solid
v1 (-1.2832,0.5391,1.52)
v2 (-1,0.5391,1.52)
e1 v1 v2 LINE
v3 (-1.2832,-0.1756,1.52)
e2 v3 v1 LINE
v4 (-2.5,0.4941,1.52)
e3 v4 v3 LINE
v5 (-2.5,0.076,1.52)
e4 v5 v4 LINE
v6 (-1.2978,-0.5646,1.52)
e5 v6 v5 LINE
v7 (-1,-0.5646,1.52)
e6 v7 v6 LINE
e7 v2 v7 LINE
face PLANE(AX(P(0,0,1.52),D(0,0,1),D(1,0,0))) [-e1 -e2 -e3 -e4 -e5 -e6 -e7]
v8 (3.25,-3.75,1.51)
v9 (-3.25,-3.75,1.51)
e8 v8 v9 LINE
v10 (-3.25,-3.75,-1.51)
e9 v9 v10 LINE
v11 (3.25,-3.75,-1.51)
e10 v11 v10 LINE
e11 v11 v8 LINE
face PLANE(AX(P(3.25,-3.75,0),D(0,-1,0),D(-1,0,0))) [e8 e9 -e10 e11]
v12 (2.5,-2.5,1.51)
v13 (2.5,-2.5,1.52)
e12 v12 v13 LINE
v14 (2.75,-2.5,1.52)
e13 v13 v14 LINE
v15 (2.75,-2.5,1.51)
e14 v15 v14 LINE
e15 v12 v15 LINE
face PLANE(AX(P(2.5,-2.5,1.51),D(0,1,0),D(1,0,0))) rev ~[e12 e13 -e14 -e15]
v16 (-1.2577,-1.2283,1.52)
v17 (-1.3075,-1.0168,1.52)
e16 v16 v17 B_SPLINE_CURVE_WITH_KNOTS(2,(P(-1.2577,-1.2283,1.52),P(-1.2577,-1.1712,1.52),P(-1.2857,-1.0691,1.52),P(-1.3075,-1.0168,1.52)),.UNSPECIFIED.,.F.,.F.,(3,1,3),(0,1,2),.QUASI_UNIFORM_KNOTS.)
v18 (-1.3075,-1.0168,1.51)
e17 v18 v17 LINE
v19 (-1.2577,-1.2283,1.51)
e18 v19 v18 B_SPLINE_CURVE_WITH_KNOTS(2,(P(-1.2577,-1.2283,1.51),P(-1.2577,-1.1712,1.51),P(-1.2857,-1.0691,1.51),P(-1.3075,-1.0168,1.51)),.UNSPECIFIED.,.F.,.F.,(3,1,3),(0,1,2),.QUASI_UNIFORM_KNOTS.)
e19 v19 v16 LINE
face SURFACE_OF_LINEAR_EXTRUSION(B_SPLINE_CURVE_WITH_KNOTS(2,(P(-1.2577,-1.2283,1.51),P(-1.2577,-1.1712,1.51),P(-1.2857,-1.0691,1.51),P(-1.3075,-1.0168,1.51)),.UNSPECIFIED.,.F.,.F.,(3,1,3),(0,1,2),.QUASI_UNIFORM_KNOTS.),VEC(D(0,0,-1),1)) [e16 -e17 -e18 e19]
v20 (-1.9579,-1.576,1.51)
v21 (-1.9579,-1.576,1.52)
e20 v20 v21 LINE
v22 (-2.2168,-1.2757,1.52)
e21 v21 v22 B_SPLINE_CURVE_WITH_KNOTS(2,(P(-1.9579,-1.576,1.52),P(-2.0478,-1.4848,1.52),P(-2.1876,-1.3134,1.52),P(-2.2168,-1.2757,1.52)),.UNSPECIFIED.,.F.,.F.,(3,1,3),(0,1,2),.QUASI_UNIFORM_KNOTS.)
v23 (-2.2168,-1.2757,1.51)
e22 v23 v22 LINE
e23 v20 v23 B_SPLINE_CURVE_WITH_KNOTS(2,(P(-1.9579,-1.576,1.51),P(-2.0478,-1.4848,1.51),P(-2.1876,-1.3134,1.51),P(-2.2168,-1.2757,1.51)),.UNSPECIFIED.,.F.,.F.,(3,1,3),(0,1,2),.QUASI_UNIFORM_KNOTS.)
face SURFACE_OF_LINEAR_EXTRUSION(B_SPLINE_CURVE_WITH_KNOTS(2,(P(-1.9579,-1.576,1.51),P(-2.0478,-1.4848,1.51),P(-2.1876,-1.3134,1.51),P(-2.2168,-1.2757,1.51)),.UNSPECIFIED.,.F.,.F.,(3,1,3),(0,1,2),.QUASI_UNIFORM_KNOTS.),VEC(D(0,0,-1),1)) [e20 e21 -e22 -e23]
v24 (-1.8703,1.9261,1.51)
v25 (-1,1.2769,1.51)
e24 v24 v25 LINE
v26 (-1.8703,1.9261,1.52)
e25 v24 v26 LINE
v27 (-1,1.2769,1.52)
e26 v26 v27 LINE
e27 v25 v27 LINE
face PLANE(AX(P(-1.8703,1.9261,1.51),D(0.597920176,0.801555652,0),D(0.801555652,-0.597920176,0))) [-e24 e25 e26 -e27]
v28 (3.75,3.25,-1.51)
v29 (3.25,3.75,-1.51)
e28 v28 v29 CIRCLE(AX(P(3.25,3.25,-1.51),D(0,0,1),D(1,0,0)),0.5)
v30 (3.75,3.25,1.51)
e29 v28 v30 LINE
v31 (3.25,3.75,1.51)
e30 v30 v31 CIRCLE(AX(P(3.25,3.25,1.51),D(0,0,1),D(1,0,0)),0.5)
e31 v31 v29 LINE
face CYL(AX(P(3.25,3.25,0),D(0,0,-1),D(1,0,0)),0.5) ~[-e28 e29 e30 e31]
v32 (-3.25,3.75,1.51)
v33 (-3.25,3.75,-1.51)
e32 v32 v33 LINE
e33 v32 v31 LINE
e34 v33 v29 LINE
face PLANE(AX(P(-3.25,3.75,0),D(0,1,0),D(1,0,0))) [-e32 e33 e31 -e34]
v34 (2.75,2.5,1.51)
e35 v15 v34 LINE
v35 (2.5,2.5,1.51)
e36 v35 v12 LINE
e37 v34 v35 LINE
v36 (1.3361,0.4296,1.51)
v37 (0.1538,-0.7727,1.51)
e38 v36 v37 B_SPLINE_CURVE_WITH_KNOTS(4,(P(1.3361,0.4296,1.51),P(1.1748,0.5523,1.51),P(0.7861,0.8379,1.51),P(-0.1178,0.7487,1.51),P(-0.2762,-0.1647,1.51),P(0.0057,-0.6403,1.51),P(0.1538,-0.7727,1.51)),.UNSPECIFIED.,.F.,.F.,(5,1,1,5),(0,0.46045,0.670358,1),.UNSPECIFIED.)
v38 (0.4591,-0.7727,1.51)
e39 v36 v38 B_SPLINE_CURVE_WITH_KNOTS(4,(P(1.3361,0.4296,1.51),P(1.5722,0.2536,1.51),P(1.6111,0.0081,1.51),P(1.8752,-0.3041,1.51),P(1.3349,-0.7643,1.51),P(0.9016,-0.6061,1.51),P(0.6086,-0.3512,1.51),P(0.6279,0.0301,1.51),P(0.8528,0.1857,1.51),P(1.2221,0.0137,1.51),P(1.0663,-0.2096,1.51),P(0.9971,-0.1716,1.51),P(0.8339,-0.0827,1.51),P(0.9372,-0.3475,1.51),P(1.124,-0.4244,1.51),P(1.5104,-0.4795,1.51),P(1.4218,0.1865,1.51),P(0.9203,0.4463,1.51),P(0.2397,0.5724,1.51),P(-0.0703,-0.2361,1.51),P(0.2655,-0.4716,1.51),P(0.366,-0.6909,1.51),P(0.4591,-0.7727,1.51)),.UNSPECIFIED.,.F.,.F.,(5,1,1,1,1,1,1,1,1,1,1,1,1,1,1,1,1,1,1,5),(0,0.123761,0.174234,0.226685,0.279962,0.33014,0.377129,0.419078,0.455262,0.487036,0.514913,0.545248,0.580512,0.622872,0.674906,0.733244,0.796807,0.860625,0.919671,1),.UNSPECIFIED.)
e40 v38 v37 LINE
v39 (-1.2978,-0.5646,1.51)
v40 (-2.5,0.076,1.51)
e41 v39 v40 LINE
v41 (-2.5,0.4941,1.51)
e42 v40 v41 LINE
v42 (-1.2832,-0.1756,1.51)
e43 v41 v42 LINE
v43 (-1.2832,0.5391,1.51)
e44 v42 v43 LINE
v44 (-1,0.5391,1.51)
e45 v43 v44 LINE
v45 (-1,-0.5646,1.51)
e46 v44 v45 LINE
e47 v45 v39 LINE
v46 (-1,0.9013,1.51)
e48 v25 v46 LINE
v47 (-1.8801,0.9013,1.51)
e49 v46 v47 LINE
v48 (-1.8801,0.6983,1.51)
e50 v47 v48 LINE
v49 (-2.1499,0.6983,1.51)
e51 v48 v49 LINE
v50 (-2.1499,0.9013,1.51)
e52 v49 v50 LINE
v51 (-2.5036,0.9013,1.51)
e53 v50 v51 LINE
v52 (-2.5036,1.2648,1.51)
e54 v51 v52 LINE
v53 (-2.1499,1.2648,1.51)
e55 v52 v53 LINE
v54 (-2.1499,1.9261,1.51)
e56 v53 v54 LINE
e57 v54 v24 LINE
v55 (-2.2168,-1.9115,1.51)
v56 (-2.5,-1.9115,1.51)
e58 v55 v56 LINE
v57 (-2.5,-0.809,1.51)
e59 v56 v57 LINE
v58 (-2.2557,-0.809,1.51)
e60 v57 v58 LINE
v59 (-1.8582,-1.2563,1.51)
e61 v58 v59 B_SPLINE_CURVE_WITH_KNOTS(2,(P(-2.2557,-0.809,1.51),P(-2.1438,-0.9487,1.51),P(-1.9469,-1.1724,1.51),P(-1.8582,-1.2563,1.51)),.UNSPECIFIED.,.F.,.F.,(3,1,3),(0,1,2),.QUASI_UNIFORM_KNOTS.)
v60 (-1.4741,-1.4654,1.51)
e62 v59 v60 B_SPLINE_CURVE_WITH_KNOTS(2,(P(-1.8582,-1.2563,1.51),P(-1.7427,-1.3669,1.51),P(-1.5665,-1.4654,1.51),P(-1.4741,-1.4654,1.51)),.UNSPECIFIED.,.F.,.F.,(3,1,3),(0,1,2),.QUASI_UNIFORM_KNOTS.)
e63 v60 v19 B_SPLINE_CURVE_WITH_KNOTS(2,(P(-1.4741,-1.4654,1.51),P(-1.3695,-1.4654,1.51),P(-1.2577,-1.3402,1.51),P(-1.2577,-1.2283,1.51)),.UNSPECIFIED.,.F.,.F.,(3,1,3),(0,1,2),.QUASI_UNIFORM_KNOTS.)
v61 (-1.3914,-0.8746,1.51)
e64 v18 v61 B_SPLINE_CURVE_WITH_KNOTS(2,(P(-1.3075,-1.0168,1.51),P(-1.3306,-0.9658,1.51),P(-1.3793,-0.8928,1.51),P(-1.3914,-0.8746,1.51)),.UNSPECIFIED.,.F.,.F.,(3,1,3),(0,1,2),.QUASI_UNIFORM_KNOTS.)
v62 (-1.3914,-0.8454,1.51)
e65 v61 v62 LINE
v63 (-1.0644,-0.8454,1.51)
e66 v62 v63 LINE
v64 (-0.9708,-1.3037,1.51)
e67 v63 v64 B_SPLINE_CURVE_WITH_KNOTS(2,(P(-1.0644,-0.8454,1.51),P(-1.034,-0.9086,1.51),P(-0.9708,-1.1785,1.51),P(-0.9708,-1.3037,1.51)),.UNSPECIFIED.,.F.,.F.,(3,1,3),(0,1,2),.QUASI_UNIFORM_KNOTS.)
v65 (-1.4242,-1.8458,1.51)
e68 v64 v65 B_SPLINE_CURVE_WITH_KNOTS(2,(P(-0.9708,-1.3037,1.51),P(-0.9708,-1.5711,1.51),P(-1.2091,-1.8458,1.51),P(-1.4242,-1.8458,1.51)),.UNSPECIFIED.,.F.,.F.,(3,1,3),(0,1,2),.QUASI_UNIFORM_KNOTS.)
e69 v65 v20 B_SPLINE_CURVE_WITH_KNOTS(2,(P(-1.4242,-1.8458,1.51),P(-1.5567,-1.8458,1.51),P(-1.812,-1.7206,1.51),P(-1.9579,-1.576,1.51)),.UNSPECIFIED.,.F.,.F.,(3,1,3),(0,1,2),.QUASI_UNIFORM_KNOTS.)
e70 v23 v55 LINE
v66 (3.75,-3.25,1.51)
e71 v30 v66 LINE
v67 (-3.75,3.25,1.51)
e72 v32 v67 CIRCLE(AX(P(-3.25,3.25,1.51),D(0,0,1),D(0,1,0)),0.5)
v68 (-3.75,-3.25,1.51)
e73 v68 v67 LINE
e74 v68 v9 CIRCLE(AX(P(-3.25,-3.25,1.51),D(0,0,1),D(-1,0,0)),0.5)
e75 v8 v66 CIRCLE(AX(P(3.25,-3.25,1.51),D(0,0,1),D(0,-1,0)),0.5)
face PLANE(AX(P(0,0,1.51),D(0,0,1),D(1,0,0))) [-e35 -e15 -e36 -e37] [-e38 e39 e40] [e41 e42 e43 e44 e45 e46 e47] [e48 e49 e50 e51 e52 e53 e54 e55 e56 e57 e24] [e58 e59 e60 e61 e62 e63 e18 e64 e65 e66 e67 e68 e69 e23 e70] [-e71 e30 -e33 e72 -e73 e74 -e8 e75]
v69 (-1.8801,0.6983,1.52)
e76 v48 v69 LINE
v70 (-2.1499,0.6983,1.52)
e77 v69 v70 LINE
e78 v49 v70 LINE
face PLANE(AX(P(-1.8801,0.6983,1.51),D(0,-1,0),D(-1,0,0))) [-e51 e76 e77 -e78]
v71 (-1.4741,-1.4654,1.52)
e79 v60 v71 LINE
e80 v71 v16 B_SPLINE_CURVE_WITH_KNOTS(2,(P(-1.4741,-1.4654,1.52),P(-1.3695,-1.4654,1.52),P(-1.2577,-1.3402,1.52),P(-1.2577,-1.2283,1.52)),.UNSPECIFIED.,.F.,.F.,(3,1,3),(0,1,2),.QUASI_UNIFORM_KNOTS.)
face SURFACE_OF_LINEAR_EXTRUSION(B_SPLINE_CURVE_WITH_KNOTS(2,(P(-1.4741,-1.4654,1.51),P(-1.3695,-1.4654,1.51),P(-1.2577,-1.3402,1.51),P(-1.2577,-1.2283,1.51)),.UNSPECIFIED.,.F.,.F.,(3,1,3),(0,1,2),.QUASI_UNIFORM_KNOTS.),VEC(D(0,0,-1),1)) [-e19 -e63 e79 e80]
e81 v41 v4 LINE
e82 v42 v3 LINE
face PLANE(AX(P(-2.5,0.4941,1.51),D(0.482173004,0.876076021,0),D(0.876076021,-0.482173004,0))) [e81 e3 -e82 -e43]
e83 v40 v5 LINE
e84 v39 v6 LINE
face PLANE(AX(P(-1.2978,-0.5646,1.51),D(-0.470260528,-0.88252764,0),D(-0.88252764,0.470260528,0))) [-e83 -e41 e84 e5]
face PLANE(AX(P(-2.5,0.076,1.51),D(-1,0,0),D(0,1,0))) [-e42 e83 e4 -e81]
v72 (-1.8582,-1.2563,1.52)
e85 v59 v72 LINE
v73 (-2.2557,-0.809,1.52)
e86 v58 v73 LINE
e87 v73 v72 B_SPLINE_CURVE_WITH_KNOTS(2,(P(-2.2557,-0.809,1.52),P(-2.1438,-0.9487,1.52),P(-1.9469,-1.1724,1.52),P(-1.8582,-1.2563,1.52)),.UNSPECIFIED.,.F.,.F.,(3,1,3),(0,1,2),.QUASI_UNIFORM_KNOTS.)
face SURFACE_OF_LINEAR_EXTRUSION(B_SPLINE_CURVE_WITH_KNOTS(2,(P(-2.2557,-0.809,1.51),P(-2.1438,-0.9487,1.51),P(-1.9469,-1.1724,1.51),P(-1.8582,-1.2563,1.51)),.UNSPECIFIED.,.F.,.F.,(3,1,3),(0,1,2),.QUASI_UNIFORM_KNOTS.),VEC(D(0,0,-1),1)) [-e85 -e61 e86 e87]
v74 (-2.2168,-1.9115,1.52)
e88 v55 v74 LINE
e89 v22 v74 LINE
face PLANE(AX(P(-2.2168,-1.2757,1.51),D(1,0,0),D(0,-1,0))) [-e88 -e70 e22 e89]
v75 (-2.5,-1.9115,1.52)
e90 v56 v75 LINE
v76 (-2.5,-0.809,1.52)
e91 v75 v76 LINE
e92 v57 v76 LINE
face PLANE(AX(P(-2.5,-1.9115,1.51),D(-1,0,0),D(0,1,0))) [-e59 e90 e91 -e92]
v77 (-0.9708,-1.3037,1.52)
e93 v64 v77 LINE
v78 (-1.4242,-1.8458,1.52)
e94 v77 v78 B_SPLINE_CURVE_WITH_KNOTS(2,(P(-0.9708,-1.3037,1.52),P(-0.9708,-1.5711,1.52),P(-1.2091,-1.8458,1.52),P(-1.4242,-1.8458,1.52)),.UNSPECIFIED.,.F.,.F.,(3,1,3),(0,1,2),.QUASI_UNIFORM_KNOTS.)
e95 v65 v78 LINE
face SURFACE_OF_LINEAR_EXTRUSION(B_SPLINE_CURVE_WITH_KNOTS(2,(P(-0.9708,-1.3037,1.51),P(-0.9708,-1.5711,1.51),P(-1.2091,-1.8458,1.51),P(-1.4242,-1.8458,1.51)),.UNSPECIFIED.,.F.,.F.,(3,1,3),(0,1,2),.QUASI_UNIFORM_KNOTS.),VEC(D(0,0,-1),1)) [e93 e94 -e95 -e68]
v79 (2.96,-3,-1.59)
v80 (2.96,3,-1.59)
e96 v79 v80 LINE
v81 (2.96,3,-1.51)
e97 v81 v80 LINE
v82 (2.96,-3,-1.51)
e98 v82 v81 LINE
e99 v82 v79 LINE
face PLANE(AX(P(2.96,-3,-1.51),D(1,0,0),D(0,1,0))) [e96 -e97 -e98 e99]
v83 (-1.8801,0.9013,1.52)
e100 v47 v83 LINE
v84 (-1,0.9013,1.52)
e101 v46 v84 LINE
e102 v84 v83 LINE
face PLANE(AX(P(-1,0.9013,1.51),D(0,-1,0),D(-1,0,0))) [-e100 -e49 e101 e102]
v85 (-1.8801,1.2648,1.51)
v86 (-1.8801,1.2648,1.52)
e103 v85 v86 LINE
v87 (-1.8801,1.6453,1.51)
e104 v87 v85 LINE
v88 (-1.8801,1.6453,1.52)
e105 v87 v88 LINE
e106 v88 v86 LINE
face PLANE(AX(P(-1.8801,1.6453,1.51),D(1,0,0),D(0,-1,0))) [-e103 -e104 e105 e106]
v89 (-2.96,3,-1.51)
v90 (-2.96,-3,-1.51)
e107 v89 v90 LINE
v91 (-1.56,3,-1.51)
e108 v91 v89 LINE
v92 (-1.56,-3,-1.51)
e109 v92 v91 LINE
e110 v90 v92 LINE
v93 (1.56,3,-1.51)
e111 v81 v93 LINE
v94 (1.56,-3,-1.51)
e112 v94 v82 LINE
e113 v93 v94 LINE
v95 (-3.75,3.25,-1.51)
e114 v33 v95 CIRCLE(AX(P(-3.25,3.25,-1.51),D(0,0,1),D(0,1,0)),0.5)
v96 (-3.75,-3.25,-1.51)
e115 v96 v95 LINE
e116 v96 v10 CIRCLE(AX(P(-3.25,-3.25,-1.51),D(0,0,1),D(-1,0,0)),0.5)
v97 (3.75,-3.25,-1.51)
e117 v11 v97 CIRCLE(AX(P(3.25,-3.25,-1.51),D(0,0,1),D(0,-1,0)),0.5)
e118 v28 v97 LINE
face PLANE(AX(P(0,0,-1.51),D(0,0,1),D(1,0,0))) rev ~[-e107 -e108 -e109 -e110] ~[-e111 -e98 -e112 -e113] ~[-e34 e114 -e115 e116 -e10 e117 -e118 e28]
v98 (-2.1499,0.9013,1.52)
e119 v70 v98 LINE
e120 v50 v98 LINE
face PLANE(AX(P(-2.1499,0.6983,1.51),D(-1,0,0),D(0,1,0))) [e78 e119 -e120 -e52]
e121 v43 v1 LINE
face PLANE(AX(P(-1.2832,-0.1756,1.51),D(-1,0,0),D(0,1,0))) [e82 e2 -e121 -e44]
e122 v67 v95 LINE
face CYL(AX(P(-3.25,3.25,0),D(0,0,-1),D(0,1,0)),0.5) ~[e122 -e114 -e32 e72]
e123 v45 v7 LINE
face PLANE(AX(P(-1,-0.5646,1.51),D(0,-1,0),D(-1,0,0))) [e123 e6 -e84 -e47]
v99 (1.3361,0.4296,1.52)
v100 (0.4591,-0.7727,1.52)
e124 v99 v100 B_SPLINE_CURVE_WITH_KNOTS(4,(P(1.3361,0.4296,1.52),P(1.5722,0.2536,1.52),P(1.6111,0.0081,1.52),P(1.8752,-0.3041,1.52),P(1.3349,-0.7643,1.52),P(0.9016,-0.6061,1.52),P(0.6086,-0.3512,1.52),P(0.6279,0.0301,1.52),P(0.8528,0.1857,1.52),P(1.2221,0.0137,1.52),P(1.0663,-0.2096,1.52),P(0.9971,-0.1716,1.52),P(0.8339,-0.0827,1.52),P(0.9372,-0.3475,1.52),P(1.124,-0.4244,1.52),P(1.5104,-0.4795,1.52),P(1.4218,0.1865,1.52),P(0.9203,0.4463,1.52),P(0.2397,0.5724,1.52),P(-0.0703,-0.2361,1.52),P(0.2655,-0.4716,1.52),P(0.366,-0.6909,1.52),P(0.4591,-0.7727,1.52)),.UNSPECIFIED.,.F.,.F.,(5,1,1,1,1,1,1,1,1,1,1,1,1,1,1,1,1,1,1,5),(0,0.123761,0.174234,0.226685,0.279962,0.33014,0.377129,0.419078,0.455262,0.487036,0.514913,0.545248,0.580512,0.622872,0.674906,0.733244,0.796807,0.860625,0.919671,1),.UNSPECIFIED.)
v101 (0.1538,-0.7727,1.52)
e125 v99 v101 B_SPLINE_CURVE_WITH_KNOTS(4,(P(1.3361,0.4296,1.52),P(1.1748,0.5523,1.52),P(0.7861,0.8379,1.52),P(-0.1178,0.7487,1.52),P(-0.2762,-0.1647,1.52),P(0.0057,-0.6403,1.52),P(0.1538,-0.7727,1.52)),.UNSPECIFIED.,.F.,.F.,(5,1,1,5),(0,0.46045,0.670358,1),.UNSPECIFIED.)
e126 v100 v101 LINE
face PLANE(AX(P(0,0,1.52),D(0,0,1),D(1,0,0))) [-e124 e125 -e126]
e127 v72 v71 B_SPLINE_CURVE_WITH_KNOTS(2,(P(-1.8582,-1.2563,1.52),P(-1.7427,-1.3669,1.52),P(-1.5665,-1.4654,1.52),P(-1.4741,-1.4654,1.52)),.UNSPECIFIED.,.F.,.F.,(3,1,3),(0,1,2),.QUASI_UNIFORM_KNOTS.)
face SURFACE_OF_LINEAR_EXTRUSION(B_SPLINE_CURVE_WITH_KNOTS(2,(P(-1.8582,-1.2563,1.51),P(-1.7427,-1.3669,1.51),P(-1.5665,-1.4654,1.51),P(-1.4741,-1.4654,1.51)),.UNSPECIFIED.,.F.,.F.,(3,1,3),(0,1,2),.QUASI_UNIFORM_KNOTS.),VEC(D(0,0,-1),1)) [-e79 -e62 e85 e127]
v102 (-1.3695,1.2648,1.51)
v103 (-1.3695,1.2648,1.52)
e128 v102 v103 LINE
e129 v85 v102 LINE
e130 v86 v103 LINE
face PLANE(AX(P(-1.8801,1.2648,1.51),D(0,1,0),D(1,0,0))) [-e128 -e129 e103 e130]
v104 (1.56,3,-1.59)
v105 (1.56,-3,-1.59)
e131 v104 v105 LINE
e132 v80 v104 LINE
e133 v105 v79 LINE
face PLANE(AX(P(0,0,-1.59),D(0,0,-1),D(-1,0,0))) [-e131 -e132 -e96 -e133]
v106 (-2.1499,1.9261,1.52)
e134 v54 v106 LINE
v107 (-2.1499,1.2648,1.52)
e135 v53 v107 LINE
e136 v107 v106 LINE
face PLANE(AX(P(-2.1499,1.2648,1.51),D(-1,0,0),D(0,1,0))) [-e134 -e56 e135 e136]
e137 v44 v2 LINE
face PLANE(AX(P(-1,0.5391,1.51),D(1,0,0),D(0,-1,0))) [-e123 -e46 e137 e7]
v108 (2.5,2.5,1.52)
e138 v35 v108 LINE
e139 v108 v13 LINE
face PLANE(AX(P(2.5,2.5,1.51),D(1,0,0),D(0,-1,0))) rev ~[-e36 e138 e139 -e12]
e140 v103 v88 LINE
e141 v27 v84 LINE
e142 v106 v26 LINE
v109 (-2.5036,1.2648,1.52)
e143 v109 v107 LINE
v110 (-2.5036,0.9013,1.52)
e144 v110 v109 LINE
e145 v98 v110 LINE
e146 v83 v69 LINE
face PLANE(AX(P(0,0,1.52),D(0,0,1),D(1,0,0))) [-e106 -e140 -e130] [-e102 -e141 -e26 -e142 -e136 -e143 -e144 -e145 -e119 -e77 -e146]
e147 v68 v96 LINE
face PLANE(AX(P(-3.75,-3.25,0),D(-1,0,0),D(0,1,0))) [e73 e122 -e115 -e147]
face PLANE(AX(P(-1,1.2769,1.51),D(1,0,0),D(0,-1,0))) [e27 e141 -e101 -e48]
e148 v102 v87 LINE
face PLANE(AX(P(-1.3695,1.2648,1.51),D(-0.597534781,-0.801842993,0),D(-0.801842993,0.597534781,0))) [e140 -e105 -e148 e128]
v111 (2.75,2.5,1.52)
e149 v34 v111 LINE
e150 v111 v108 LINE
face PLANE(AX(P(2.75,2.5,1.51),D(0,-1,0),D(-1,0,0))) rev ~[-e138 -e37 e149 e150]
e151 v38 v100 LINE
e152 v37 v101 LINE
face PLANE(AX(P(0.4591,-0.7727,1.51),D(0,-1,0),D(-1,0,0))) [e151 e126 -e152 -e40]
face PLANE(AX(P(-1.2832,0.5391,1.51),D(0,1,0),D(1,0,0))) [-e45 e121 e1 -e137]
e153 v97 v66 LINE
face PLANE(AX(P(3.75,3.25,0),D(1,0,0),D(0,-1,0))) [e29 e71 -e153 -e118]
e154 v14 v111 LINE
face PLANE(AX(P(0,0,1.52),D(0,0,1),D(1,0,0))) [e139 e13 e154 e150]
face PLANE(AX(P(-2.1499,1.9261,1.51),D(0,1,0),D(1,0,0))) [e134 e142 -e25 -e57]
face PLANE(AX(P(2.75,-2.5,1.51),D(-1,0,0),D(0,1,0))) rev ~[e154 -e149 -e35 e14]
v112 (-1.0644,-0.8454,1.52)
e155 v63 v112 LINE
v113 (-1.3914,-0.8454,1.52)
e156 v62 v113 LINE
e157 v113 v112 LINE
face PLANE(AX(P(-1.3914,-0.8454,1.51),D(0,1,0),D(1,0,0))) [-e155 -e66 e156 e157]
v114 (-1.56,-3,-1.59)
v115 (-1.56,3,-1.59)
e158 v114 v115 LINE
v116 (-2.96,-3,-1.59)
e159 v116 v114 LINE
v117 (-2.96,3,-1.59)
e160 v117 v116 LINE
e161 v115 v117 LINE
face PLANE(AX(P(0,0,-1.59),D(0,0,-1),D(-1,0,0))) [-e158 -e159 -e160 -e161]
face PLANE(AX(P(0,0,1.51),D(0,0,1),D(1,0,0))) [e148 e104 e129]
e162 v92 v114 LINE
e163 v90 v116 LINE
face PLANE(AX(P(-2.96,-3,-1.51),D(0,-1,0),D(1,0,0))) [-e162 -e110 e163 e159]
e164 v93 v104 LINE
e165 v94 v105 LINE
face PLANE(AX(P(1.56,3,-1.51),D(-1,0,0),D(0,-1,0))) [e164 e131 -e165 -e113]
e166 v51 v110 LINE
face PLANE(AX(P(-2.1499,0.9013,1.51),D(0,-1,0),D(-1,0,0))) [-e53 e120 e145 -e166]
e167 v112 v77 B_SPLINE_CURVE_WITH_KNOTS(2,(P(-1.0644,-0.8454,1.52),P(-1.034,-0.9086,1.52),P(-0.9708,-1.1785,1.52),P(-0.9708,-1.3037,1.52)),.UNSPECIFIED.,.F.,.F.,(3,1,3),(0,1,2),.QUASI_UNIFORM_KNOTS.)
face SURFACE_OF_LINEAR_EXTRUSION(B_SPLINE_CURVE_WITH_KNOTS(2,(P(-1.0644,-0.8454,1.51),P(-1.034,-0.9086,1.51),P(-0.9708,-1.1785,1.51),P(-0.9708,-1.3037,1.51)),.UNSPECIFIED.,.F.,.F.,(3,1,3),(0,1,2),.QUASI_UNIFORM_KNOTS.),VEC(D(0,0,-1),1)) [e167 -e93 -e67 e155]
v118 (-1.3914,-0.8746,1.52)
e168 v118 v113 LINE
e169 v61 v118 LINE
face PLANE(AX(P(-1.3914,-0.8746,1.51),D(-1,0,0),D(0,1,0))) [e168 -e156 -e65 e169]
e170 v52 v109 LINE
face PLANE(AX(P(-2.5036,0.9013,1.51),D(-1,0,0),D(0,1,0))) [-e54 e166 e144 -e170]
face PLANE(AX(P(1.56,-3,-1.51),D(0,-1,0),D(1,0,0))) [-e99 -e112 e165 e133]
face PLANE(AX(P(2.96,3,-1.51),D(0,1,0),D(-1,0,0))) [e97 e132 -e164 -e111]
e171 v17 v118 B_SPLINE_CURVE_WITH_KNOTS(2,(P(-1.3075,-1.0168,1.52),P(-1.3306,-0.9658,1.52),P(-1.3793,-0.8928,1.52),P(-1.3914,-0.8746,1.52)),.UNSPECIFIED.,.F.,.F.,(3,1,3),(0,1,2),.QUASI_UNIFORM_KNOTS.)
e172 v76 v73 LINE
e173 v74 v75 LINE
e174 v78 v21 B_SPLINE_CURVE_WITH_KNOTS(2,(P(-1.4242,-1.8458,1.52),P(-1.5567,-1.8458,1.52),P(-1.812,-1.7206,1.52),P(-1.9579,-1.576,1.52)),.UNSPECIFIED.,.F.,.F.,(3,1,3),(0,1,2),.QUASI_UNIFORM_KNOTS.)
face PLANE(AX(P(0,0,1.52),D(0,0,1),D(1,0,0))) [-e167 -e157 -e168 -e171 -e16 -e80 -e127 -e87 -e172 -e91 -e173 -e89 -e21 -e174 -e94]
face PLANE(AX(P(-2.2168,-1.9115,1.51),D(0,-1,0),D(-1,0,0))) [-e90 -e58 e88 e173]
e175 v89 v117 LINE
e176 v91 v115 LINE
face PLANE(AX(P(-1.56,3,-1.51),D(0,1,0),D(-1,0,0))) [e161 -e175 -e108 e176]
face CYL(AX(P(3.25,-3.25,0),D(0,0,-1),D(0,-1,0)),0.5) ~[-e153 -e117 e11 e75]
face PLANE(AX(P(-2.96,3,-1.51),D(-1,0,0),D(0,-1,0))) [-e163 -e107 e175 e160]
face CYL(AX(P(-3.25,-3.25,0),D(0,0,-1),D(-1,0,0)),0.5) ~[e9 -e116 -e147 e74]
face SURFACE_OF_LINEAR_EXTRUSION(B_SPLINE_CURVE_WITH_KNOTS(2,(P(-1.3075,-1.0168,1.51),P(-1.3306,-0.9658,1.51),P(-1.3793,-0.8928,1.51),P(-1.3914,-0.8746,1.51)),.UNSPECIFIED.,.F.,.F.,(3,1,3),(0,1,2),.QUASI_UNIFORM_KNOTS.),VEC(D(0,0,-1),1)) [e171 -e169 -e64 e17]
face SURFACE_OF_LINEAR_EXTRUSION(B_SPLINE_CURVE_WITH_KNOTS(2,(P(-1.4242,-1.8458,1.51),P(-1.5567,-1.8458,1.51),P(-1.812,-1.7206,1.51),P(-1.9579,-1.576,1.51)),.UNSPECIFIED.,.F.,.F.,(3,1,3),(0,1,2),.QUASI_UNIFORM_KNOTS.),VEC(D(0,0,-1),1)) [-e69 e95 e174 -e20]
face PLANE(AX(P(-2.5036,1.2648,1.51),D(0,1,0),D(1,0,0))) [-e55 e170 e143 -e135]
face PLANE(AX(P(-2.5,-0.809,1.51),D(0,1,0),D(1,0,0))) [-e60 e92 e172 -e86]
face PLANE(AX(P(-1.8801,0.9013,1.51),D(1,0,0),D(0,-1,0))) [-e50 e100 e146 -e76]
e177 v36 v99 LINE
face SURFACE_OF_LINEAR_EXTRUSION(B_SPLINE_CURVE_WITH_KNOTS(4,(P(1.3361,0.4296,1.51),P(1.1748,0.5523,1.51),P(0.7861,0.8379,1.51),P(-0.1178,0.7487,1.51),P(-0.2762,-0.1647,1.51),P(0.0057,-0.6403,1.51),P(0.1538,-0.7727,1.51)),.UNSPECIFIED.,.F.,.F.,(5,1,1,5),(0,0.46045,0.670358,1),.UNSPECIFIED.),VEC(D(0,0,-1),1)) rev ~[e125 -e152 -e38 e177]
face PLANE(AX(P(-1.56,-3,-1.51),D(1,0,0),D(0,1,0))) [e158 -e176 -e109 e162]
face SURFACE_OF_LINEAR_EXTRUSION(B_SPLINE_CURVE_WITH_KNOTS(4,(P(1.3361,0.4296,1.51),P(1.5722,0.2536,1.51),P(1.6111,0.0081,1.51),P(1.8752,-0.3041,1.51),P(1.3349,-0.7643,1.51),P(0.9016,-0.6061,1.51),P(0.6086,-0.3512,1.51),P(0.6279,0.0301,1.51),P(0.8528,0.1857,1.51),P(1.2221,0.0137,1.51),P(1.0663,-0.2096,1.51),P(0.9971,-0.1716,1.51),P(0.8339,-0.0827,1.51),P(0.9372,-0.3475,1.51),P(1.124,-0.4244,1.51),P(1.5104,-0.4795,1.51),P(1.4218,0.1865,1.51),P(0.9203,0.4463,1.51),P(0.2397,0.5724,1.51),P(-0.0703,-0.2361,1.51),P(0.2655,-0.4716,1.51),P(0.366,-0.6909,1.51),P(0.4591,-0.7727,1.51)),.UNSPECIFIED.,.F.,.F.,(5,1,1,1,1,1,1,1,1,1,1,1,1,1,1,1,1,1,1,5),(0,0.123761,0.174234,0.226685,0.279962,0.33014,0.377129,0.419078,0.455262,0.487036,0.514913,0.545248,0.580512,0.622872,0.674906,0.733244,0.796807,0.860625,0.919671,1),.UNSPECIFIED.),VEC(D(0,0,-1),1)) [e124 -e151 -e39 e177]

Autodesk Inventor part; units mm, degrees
ref_plane "YZ Plane" through (0, 0, 0) normal (1, 0, 0) x (0, 1, 0)
ref_plane "XZ Plane" through (0, 0, 0) normal (0, 1, 0) x (-1, 0, 0)
ref_plane "XY Plane" through (0, 0, 0) normal (0, 0, 1) x (1, 0, 0)
sketch "Sketch1" plane through (0, 0, 0) normal (0, 0, 1) x (1, 0, 0)
  line L0 (3.25, -3.75) -> (-3.25, -3.75)
  line L1 (-3.75, -3.25) -> (-3.75, 3.25)
  line L2 (-3.25, 3.75) -> (3.25, 3.75)
  line L3 (3.75, 3.25) -> (3.75, -3.25)
  line L4 (3.75, -3.75) -> (-3.75, 3.75) construction
  line L5 (-3.75, -3.75) -> (3.75, 3.75) construction
  arc A0 (-3.25, 3.75) -> (-3.75, 3.25) centre (-3.25, 3.25) ccw
  arc A1 (-3.75, -3.25) -> (-3.25, -3.75) centre (-3.25, -3.25) ccw
  arc A2 (3.25, -3.75) -> (3.75, -3.25) centre (3.25, -3.25) ccw
  arc A3 (3.75, 3.25) -> (3.25, 3.75) centre (3.25, 3.25) ccw
  point P0 (0, 0)
  dimension "d0" = 7.5
  dimension "d1" = 0.5
extrude "Extrusion1" add sketch "Sketch1" along normal mid plane 3.02
sketch "Sketch2" plane through (0, 0, -1.51) normal (0, 0, -1) x (-1, 0, 0)
  line L0 (2.96, -3) -> (1.56, -3)
  line L1 (1.56, -3) -> (1.56, 3)
  line L2 (1.56, 3) -> (2.96, 3)
  line L3 (2.96, 3) -> (2.96, -3)
  line L4 (-1.56, -3) -> (-2.96, -3)
  line L5 (-2.96, -3) -> (-2.96, 3)
  line L6 (-2.96, 3) -> (-1.56, 3)
  line L7 (-1.56, 3) -> (-1.56, -3)
  line L8 (0, -3) -> (0, 3) construction
  point P0 (0, 0)
  point P1 (0, 0)
  dimension "d4" = 1.4
  dimension "d5" = 6
  dimension "d6" = 3.12
extrude "Extrusion2" add sketch "Sketch2" along normal blind 0.08
sketch "Sketch3" plane through (0, 0, 1.51) normal (0, 0, 1) x (1, 0, 0)
  line L0 (2.75, 2.5) -> (2.5, 2.5)
  line L1 (2.5, 2.5) -> (2.5, -2.5)
  line L2 (2.5, -2.5) -> (2.75, -2.5)
  line L3 (2.75, -2.5) -> (2.75, 2.5)
  line L4 (-2.5, 2.5) -> (-2.5, -2.5) construction
  spline S0 degree 4 poles (1.3361, 0.4296) (1.5722, 0.2536) (1.6111, 0.0081) (1.8752, -0.3041) (1.3349, -0.7643) (0.9016, -0.6061) (0.6086, -0.3512) (0.6279, 0.0301) (0.8528, 0.1857) (1.2221, 0.0137) (1.0663, -0.2096) (0.9971, -0.1716) (0.8339, -0.0827) (0.9372, -0.3475) (1.124, -0.4244) (1.5104, -0.4795) (1.4218, 0.1865) (0.9203, 0.4463) (0.2397, 0.5724) (-0.0703, -0.2361) (0.2655, -0.4716) (0.366, -0.6909) (0.4591, -0.7727) knots 0 0 0 0 0 0.123761 0.174234 0.226685 0.279962 0.33014 0.377129 0.419078 0.455262 0.487036 0.514913 0.545248 0.580512 0.622872 0.674906 0.733244 0.796807 0.860625 0.919671 1 1 1 1 1
  line L5 (0.3021, -0.6347) -> (0.6161, -0.9108) construction
  arc A0 (0.3672, -0.6474) -> (0.5952, -0.8479) centre (0.698, -0.5011) ccw construction
  spline S1 degree 4 poles (1.3361, 0.4296) (1.1748, 0.5523) (0.7861, 0.8379) (-0.1178, 0.7487) (-0.2762, -0.1647) (0.0057, -0.6403) (0.1538, -0.7727) knots 0 0 0 0 0 0.46045 0.670358 1 1 1 1 1
  line L6 (-0.0024, -0.6331) -> (0.3101, -0.9124) construction
  arc A1 (0.0518, -0.6477) -> (0.2895, -0.8602) centre (0.4983, -0.3874) ccw construction
  line L7 (0.4591, -0.7727) -> (0.1538, -0.7727)
  line L8 (1.4819, -0.2272) -> (1.2942, 0.2269) construction
  arc A2 (1.4343, -0.1846) -> (1.2905, 0.1631) centre (0.7871, -0.2485) ccw construction
  line L9 (-2.1499, 0.6983) -> (-2.1499, 0.9013)
  line L10 (-2.1499, 0.9013) -> (-2.5036, 0.9013)
  line L11 (-2.5036, 0.9013) -> (-2.5036, 1.2648)
  line L12 (-2.5036, 1.2648) -> (-2.1499, 1.2648)
  line L13 (-2.1499, 1.2648) -> (-2.1499, 1.9261)
  line L14 (-2.1499, 1.9261) -> (-1.8703, 1.9261)
  line L15 (-1.8703, 1.9261) -> (-1, 1.2769)
  line L16 (-1, 1.2769) -> (-1, 0.9013)
  line L17 (-1, 0.9013) -> (-1.8801, 0.9013)
  line L18 (-1.8801, 0.9013) -> (-1.8801, 0.6983)
  line L19 (-1.8801, 0.6983) -> (-2.1499, 0.6983)
  line L20 (-1.8801, 1.2648) -> (-1.3695, 1.2648)
  line L21 (-1.3695, 1.2648) -> (-1.8801, 1.6453)
  line L22 (-1.8801, 1.6453) -> (-1.8801, 1.2648)
  line L23 (-1.2978, -0.5646) -> (-2.5, 0.076)
  line L24 (-2.5, 0.076) -> (-2.5, 0.4941)
  line L25 (-2.5, 0.4941) -> (-1.2832, -0.1756)
  line L26 (-1.2832, -0.1756) -> (-1.2832, 0.5391)
  line L27 (-1.2832, 0.5391) -> (-1, 0.5391)
  line L28 (-1, 0.5391) -> (-1, -0.5646)
  line L29 (-1, -0.5646) -> (-1.2978, -0.5646)
  line L30 (-2.5, -1.9115) -> (-2.5, -0.809)
  line L31 (-2.5, -0.809) -> (-2.2557, -0.809)
  spline S2 degree 2 poles (-2.2557, -0.809) (-2.1438, -0.9487) (-1.9469, -1.1724) (-1.8582, -1.2563) knots 0 0 0 1 2 2 2
  spline S3 degree 2 poles (-1.8582, -1.2563) (-1.7427, -1.3669) (-1.5665, -1.4654) (-1.4741, -1.4654) knots 0 0 0 1 2 2 2
  spline S4 degree 2 poles (-1.4741, -1.4654) (-1.3695, -1.4654) (-1.2577, -1.3402) (-1.2577, -1.2283) knots 0 0 0 1 2 2 2
  spline S5 degree 2 poles (-1.2577, -1.2283) (-1.2577, -1.1712) (-1.2857, -1.0691) (-1.3075, -1.0168) knots 0 0 0 1 2 2 2
  spline S6 degree 2 poles (-1.3075, -1.0168) (-1.3306, -0.9658) (-1.3793, -0.8928) (-1.3914, -0.8746) knots 0 0 0 1 2 2 2
  line L32 (-1.3914, -0.8746) -> (-1.3914, -0.8454)
  line L33 (-1.3914, -0.8454) -> (-1.0644, -0.8454)
  spline S7 degree 2 poles (-1.0644, -0.8454) (-1.034, -0.9086) (-0.9708, -1.1785) (-0.9708, -1.3037) knots 0 0 0 1 2 2 2
  spline S8 degree 2 poles (-0.9708, -1.3037) (-0.9708, -1.5711) (-1.2091, -1.8458) (-1.4242, -1.8458) knots 0 0 0 1 2 2 2
  spline S9 degree 2 poles (-1.4242, -1.8458) (-1.5567, -1.8458) (-1.812, -1.7206) (-1.9579, -1.576) knots 0 0 0 1 2 2 2
  spline S10 degree 2 poles (-1.9579, -1.576) (-2.0478, -1.4848) (-2.1876, -1.3134) (-2.2168, -1.2757) knots 0 0 0 1 2 2 2
  line L34 (-2.2168, -1.2757) -> (-2.2168, -1.9115)
  line L35 (-2.2168, -1.9115) -> (-2.5, -1.9115)
  point P0 (0, 0)
  point P1 (-2.5, 0)
  point P2 (2.5, 0)
  point P3 (1.5897, 0.1222)
  point P4 (1.6836, -0.1324)
  point P5 (1.6666, -0.392)
  point P6 (1.348, -0.657)
  point P7 (0.9064, -0.5696)
  point P8 (0.6595, -0.2864)
  point P9 (0.6874, 0.0129)
  point P10 (0.9152, 0.1153)
  point P11 (1.131, -0.0524)
  point P12 (1.0559, -0.1747)
  point P13 (0.9784, -0.1613)
  point P14 (0.8944, -0.1391)
  point P15 (0.915, -0.2539)
  point P16 (1.1067, -0.4034)
  point P17 (1.3658, -0.3897)
  point P18 (1.3881, -0.0001)
  point P19 (0.911, 0.405)
  point P20 (0.2939, 0.3734)
  point P21 (0.0837, -0.1519)
  point P22 (0.2608, -0.5163)
  point P23 (1.0376, 0.6174)
  point P24 (0.5316, 0.7174)
  point P25 (0.0302, 0.4881)
  point P26 (-0.1564, -0.1329)
  dimension "d9" = 5
  dimension "d10" = 0.25
  dimension "d11" = 2.5
  dimension "d12" = 2.5
extrude "Extrusion3" add sketch "Sketch3" along normal blind 0.01
equation "\"d12\" = d11"
properties part number "Inductor_7575" material "Steel, Carbon"
